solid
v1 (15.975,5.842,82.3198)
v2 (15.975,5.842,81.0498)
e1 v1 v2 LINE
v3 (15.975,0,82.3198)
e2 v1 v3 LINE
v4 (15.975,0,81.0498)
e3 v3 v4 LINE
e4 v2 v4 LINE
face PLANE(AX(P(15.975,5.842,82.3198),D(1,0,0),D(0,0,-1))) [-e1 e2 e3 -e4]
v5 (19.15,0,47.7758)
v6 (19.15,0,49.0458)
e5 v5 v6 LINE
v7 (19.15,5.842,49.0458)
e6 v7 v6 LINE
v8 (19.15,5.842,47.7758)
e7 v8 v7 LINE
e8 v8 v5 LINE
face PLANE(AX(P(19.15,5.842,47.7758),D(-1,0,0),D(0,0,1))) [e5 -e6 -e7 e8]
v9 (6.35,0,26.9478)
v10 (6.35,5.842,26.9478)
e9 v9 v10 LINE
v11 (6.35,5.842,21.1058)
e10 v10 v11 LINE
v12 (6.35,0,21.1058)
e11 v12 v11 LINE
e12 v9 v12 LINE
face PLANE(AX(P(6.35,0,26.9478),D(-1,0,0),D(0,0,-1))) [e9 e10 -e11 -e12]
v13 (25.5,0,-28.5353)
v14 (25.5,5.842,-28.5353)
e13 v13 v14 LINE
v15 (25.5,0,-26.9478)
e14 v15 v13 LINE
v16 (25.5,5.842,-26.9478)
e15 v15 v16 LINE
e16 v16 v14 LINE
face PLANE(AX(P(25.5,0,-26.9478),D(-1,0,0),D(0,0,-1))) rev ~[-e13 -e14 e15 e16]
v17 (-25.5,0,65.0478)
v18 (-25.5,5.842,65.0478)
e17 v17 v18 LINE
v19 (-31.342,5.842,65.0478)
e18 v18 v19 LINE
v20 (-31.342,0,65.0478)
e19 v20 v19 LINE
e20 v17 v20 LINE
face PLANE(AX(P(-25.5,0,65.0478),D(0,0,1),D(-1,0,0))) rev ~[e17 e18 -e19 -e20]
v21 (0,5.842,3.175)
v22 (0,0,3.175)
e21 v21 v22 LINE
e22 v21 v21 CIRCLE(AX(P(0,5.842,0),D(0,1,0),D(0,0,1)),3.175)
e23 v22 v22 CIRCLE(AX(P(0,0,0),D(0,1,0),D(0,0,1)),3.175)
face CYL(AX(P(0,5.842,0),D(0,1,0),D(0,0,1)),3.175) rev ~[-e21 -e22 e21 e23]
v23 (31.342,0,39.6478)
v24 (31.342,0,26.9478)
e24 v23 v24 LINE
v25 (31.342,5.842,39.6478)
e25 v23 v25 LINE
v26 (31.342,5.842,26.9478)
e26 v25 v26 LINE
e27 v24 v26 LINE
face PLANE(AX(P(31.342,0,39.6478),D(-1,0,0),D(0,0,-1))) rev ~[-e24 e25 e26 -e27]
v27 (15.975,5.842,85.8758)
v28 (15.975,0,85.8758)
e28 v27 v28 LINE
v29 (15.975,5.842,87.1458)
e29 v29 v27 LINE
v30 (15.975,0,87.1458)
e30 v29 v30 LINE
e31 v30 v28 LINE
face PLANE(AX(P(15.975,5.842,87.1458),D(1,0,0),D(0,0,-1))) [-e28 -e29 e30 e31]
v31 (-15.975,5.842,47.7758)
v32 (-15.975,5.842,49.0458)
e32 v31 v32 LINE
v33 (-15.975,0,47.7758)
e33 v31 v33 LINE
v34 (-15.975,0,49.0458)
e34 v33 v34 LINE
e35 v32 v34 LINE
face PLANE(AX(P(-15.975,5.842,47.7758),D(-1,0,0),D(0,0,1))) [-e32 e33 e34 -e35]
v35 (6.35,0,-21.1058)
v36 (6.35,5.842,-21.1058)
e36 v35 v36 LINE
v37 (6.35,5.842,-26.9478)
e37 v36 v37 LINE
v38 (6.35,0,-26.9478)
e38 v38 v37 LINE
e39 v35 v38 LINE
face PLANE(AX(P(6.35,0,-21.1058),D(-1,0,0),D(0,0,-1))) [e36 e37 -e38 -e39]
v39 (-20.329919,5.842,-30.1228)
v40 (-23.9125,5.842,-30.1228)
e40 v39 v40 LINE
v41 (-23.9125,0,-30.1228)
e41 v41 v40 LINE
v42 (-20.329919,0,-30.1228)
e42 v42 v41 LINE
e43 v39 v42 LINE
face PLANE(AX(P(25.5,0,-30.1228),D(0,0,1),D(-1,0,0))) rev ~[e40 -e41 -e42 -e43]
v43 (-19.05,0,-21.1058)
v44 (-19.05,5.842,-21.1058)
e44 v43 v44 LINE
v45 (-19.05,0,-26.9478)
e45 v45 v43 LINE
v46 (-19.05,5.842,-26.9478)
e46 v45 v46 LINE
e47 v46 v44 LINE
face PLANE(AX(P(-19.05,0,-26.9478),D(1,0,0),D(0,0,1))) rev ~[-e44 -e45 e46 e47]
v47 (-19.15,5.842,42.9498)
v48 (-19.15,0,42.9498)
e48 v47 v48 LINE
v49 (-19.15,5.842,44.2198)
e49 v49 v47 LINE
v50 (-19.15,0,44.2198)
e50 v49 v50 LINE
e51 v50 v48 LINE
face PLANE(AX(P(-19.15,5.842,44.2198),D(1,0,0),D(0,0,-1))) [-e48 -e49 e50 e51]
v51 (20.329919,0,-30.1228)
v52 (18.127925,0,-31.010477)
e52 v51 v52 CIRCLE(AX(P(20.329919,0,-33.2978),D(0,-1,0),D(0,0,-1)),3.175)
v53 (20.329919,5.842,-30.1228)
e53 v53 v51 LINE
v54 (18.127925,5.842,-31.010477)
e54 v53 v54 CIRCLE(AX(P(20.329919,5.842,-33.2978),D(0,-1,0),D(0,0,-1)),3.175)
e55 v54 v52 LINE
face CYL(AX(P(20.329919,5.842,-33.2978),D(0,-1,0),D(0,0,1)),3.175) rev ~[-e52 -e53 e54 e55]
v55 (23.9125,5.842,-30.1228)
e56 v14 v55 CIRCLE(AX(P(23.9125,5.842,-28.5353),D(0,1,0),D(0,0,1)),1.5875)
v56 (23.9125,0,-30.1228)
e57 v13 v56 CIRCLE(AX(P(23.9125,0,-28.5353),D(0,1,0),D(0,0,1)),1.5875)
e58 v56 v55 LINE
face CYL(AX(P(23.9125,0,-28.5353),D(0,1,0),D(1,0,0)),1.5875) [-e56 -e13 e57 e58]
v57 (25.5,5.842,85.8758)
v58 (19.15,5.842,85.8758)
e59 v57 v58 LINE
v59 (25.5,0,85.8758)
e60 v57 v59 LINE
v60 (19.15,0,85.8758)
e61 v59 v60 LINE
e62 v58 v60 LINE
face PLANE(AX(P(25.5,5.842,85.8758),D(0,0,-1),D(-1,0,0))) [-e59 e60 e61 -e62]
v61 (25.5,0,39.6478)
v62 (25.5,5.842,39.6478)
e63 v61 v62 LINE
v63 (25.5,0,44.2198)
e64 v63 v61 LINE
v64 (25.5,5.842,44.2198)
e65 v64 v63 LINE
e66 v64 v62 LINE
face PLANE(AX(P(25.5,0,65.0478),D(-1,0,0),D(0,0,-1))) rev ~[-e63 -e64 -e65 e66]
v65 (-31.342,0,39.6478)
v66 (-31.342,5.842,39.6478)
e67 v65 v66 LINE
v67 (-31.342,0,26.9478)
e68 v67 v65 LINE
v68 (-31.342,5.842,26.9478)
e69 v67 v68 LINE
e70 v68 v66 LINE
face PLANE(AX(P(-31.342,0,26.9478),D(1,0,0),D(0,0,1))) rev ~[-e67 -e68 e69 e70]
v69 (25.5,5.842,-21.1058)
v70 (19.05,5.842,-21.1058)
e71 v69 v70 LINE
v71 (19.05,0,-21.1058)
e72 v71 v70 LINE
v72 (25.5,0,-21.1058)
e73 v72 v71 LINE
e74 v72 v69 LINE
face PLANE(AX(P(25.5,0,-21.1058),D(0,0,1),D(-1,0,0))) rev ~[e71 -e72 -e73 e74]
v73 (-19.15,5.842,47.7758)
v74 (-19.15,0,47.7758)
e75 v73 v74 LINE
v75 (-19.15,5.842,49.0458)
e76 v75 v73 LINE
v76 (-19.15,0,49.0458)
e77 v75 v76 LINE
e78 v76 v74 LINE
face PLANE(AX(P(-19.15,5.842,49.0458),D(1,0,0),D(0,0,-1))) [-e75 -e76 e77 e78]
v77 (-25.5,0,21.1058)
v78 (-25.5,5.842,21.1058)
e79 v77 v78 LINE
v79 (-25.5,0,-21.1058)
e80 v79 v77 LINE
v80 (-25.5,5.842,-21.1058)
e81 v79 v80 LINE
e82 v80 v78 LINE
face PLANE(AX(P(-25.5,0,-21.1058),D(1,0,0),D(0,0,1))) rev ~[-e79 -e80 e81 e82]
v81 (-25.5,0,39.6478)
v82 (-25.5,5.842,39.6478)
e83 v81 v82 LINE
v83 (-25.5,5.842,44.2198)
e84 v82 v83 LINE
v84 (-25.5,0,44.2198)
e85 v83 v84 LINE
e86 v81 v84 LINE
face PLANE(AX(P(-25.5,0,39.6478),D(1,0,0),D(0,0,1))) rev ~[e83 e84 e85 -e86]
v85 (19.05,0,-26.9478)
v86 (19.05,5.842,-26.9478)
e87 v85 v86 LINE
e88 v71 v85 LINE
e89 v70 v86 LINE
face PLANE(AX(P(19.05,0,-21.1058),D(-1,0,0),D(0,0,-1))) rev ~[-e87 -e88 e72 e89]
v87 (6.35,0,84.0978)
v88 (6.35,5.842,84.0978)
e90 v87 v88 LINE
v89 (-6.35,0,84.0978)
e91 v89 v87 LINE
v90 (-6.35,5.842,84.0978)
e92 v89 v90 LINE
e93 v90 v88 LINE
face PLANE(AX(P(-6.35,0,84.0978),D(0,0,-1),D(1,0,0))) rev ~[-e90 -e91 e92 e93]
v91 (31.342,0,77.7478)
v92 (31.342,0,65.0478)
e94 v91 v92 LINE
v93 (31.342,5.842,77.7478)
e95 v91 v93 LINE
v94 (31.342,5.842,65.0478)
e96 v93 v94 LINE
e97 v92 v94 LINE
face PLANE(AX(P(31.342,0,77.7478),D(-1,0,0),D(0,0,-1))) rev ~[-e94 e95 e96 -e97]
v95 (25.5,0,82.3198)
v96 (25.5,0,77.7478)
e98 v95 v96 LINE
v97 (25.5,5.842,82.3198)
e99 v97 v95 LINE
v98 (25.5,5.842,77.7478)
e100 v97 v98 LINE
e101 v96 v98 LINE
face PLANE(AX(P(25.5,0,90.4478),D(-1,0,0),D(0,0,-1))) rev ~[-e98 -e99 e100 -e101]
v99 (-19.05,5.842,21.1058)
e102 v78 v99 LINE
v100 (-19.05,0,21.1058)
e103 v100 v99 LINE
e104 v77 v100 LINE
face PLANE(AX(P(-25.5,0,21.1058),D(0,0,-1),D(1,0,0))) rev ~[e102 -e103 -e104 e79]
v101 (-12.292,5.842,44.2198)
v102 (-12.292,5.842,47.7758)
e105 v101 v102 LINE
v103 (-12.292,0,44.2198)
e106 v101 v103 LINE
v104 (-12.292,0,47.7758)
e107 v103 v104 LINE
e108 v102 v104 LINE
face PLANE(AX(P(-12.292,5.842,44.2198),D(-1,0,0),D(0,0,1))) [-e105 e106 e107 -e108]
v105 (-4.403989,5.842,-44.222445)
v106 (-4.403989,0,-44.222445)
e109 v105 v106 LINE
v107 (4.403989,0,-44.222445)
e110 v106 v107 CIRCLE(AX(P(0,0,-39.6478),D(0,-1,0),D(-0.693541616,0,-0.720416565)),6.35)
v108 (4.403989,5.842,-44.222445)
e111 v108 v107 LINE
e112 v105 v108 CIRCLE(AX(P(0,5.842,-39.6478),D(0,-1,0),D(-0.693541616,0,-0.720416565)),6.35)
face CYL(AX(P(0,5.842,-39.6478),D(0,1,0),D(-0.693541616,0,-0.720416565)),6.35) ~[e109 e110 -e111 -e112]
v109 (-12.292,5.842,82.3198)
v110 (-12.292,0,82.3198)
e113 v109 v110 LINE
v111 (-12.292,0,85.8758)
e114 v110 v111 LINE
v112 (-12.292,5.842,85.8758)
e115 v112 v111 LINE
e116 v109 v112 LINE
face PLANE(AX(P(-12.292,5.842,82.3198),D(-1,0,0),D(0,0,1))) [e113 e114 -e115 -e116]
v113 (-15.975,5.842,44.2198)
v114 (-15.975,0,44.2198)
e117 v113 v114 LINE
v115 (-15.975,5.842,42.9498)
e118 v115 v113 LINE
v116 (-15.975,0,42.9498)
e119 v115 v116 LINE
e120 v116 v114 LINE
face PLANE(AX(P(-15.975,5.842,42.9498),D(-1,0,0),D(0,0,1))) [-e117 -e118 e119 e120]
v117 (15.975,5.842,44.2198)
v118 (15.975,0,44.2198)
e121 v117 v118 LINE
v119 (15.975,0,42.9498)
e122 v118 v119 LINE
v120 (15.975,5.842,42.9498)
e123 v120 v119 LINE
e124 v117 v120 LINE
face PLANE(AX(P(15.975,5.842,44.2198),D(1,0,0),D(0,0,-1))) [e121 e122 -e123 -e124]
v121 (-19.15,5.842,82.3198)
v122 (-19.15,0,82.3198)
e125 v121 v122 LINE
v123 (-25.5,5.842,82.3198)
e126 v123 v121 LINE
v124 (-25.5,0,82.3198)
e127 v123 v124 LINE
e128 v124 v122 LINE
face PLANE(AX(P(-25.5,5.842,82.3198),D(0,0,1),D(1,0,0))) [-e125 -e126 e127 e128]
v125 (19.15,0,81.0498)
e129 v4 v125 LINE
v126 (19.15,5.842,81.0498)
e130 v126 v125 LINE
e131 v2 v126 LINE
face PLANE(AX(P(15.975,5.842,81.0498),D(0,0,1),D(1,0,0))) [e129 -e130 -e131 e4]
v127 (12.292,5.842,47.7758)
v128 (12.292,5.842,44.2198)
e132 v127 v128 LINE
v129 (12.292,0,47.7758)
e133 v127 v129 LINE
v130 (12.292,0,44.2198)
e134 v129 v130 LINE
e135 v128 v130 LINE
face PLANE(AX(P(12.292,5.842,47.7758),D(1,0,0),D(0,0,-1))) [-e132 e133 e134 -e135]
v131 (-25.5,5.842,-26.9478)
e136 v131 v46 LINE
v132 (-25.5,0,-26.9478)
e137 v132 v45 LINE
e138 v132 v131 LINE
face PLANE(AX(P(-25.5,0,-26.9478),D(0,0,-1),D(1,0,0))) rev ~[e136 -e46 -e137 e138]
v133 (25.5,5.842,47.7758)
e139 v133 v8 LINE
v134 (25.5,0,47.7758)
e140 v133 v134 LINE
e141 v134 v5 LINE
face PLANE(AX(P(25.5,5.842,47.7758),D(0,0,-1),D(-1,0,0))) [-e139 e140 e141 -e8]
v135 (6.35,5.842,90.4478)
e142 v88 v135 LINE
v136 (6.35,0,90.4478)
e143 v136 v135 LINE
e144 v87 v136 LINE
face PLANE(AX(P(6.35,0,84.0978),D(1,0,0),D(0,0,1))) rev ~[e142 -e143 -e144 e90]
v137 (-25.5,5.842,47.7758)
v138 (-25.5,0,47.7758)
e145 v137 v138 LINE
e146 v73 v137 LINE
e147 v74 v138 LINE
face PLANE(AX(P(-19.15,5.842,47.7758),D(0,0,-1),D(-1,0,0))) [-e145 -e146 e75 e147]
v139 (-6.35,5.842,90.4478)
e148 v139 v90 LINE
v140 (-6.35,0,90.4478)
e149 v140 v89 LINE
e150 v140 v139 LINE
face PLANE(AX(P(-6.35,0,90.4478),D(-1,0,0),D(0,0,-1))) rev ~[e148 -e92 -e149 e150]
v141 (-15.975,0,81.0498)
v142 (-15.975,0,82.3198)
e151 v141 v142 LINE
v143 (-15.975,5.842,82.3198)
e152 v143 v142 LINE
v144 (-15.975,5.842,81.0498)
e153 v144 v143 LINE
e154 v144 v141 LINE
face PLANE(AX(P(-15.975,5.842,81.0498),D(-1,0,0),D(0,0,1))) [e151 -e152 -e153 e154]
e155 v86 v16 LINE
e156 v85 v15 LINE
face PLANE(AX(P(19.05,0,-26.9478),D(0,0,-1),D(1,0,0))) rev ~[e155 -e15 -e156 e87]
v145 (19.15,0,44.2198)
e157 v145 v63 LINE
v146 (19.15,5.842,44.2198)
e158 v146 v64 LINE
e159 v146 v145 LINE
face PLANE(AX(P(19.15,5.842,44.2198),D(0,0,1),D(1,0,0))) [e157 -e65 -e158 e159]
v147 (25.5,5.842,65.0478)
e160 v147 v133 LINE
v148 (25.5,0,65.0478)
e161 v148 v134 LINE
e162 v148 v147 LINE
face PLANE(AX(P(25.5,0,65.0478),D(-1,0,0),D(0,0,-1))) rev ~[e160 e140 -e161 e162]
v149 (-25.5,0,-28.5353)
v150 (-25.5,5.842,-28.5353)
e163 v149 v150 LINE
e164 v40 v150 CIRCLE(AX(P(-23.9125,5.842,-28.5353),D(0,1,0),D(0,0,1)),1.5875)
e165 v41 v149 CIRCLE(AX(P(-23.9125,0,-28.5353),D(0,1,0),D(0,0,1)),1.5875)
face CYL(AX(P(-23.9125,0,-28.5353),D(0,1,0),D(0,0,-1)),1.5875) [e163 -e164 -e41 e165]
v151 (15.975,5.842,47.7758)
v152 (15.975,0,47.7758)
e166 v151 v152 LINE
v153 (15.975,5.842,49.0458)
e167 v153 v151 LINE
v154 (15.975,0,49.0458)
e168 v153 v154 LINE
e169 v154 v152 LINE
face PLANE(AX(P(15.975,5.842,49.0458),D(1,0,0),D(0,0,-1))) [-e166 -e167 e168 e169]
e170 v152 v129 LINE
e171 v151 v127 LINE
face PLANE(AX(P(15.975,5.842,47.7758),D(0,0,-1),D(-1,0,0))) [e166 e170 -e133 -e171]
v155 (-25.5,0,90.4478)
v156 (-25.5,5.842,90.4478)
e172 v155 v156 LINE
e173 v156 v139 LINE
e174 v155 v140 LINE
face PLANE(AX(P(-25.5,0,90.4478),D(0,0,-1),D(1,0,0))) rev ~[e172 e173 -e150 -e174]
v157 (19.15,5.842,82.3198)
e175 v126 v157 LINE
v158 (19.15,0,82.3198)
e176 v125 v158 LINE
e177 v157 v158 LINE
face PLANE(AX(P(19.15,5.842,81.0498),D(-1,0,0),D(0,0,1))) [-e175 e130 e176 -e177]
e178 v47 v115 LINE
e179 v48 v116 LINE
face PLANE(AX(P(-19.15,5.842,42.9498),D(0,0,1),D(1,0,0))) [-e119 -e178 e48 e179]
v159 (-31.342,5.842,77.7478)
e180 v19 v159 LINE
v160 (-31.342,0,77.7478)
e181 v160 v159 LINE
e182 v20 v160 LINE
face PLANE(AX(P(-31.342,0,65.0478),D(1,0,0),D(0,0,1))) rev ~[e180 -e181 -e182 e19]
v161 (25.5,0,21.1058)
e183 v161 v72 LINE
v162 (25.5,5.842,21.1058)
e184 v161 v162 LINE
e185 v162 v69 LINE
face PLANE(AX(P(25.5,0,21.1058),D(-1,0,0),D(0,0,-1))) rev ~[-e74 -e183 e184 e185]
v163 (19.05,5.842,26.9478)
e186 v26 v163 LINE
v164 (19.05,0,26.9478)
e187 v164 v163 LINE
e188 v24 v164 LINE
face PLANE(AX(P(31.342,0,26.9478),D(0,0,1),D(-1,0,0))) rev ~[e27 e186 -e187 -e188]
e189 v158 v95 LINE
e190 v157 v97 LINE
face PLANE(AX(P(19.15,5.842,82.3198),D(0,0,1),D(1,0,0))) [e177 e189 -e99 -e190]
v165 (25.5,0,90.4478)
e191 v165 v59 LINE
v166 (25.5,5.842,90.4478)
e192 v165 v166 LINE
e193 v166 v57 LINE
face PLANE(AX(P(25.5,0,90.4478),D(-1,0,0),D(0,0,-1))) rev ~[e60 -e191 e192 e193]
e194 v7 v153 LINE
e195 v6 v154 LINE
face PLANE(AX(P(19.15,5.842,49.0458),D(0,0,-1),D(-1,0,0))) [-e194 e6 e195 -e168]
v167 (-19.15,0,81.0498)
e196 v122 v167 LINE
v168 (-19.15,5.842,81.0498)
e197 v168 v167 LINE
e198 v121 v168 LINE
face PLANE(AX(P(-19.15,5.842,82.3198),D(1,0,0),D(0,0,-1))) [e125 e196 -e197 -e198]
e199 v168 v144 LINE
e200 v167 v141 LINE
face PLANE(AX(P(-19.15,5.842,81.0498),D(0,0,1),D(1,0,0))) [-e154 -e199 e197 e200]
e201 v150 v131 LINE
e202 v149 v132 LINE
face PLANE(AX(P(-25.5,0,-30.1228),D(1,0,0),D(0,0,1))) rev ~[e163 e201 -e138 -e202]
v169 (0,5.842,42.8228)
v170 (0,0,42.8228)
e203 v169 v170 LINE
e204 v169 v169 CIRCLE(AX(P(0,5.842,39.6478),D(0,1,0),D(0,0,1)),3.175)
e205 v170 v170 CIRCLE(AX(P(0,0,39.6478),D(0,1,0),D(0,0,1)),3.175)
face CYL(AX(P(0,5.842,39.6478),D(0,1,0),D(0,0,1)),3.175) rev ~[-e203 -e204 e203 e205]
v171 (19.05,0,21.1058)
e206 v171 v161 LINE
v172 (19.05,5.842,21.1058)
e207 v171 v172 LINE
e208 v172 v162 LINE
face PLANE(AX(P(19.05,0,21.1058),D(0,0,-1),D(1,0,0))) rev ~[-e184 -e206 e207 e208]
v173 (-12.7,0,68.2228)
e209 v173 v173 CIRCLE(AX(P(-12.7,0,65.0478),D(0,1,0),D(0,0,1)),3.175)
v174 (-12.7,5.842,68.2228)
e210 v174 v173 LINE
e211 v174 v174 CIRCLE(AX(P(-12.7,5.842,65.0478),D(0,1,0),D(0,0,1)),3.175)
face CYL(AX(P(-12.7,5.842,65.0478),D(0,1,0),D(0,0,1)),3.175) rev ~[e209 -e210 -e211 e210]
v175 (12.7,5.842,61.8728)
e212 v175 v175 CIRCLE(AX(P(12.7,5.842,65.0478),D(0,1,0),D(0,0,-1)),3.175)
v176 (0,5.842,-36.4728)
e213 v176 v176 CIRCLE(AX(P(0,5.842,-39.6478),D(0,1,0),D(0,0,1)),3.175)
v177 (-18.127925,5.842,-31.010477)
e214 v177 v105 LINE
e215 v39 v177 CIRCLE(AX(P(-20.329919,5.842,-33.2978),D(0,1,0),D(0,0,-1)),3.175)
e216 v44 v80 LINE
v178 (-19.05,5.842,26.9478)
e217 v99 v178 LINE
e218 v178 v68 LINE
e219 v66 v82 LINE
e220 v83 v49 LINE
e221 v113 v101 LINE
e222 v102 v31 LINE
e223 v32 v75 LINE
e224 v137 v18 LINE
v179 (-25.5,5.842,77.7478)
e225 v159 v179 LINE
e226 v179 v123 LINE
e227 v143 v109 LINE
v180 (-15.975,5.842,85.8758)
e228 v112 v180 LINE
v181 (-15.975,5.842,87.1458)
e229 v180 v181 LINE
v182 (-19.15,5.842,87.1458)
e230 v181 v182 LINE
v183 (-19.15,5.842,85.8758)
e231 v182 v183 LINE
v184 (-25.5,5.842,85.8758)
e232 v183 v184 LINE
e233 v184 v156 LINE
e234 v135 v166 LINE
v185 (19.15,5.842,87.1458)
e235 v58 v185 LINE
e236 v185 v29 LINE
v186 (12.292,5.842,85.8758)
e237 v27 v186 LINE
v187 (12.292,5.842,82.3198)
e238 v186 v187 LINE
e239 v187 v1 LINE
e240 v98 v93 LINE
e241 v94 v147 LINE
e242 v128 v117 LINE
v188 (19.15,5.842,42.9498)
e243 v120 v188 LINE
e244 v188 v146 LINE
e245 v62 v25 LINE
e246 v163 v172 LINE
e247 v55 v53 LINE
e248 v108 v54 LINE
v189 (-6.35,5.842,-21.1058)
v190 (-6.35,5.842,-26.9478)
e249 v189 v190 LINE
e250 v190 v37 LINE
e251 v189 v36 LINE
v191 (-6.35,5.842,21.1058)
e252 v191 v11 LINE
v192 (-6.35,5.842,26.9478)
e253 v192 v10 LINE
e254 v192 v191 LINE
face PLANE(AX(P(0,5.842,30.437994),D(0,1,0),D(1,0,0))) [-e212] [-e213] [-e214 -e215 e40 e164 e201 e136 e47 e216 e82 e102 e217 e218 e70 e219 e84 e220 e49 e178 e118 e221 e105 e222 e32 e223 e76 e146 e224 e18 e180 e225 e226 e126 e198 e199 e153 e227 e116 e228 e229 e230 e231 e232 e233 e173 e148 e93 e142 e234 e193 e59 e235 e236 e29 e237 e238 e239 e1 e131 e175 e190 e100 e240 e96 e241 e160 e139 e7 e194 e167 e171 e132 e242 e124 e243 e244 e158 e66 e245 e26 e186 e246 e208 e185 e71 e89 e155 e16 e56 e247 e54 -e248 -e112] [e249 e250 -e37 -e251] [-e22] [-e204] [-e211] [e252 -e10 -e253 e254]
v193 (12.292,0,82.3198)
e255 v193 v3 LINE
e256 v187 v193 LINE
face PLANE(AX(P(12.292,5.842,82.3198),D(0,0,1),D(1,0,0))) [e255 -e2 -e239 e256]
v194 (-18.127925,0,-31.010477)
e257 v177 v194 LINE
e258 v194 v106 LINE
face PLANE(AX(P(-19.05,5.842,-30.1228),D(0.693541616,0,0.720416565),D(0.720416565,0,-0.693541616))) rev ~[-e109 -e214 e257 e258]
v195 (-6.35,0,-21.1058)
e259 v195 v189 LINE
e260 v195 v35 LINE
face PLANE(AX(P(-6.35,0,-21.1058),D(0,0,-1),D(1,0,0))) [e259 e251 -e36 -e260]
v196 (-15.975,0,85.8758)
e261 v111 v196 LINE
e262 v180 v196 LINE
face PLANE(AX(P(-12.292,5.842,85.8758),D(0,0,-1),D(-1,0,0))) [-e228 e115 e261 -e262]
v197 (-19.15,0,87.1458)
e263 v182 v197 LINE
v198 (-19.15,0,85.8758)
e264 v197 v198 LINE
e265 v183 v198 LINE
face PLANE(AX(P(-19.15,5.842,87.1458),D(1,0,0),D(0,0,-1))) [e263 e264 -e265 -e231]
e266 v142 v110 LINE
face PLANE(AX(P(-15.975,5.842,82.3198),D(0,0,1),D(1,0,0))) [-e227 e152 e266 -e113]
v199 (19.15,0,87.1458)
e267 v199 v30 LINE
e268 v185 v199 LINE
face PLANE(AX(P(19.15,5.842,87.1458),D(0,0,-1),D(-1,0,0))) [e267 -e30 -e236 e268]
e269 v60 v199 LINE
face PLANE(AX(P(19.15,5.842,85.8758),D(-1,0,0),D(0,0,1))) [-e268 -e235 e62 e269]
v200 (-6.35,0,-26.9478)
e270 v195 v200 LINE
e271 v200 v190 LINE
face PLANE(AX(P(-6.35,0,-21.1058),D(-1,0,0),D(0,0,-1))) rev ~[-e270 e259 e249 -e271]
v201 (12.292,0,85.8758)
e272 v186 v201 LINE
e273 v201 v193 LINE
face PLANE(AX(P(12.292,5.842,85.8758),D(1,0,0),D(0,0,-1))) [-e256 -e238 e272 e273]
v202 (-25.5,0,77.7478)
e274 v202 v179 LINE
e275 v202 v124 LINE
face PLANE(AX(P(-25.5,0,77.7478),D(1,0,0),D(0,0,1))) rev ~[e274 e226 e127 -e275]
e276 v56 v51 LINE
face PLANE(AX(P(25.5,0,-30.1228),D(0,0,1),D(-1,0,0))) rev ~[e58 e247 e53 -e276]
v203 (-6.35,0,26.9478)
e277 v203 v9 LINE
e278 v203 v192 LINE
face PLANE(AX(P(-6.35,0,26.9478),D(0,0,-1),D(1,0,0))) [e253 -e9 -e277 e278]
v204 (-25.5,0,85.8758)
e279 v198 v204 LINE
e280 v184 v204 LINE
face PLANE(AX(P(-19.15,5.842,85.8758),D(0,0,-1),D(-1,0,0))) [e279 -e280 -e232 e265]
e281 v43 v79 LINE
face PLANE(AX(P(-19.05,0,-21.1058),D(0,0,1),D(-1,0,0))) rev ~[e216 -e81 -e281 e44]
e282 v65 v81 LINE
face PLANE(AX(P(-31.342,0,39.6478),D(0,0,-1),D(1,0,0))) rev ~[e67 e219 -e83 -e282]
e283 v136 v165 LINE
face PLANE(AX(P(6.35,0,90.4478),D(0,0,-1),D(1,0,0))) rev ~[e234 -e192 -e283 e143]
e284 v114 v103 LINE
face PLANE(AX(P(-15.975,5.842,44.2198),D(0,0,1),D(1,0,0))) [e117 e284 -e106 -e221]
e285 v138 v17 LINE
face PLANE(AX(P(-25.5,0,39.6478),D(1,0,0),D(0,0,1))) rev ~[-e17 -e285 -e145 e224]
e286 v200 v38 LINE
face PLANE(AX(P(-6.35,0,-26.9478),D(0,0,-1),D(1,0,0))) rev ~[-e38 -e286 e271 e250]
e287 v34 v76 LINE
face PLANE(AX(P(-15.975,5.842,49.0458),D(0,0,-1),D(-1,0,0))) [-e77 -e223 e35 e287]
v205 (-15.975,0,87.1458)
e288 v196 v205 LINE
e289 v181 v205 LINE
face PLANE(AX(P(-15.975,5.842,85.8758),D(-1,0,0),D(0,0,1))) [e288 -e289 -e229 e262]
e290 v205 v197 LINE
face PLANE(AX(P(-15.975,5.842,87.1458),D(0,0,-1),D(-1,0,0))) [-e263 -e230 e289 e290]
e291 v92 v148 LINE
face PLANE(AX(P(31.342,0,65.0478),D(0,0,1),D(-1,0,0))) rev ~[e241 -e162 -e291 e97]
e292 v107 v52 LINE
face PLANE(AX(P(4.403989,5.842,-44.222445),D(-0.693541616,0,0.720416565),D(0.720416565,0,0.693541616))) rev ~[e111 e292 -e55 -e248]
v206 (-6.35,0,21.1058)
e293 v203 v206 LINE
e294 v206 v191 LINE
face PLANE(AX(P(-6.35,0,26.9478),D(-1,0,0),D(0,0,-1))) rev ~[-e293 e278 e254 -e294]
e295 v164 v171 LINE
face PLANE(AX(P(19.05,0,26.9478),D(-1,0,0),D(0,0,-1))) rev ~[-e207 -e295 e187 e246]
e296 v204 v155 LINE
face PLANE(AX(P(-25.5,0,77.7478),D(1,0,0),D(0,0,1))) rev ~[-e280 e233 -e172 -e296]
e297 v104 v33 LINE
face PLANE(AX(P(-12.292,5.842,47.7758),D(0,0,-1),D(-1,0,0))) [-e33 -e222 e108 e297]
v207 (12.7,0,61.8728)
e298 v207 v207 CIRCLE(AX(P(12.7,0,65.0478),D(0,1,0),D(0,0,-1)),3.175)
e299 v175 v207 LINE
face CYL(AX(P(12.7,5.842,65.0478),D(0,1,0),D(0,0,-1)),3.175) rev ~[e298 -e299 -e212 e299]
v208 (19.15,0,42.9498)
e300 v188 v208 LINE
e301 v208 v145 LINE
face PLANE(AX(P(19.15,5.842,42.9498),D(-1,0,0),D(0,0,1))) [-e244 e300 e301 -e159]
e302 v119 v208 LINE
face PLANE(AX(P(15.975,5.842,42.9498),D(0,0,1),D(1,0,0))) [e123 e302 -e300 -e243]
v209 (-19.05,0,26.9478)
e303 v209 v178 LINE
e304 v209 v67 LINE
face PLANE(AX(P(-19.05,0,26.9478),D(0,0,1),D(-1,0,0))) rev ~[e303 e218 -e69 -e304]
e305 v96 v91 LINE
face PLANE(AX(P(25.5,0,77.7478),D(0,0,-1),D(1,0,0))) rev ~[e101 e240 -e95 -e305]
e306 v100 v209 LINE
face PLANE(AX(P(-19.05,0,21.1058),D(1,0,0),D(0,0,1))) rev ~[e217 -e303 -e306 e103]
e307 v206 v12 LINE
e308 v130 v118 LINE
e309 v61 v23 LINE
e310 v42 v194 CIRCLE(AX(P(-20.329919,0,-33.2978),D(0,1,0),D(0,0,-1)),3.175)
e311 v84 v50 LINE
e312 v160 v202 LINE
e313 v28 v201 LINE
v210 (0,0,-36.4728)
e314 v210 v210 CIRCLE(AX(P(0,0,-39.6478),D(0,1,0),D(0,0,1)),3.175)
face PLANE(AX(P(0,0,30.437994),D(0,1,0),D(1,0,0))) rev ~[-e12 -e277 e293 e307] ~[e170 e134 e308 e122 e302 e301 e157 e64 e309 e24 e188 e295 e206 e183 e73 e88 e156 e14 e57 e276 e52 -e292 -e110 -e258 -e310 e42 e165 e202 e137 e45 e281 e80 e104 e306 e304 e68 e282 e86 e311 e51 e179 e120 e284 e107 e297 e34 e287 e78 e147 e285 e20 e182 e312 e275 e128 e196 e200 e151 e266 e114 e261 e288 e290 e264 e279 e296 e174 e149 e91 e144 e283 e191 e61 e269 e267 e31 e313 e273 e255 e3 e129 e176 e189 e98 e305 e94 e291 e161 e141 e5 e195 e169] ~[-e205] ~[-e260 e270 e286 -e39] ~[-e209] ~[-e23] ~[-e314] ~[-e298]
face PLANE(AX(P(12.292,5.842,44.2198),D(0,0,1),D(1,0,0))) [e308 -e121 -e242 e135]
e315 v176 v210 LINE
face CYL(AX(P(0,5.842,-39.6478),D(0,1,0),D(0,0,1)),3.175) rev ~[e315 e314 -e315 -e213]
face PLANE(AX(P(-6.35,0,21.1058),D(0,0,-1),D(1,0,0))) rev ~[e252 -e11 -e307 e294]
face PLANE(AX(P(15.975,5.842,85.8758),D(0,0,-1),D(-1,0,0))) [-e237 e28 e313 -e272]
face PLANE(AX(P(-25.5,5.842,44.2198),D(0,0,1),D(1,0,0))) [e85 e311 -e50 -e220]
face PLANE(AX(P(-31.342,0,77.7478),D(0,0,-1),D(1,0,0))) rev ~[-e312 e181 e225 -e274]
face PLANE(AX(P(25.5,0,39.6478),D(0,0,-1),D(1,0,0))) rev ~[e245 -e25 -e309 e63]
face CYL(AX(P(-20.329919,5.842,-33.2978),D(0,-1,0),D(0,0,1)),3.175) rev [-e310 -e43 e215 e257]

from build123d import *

# Parameters (mm, degrees)
SKETCH1_W           = 12.7
SKETCH1_H           = 5.842
BOSS_EXTRUDE1_DEPTH = 5.842
FILLET1_R           = 1.5875
CUT_EXTRUDE1_DEPTH  = 96.902317244
SKETCH3_R           = 3.175
CUT_EXTRUDE2_DEPTH  = 96.902317244
SKETCH4_R           = 3.175
BOSS_EXTRUDE2_DEPTH = 5.842
FILLET2_R           = 3.175


with BuildPart() as part:
    # Sketch1 → Boss-Extrude1 (new body)
    with BuildSketch(Plane(origin=(0, 0, 0), x_dir=(1, 0, 0), z_dir=(0, 1, 0))):
        Polygon((19.05, -21.1058), (25.5, -21.1058), (25.5, 21.1058), (19.05, 21.1058), (19.05, 26.9478), (25.5, 26.9478), (25.5, 30.1228), (-25.5, 30.1228), (-25.5, 26.9478), (-19.05, 26.9478), (-19.05, 21.1058), (-25.5, 21.1058), (-25.5, -21.1058), (-19.05, -21.1058), (-19.05, -26.9478), (-25.5, -26.9478), (-31.342, -26.9478), (-31.342, -39.6478), (-25.5, -39.6478), (-25.5, -65.0478), (-31.342, -65.0478), (-31.342, -77.7478), (-25.5, -77.7478), (-25.5, -90.4478), (-6.35, -90.4478), (-6.35, -84.0978), (6.35, -84.0978), (6.35, -90.4478), (25.5, -90.4478), (25.5, -77.7478), (31.342, -77.7478), (31.342, -65.0478), (25.5, -65.0478), (25.5, -39.6478), (31.342, -39.6478), (31.342, -26.9478), (25.5, -26.9478), (19.05, -26.9478), align=None)
        with Locations((0, -24.0268)):
            Rectangle(SKETCH1_W, SKETCH1_H, mode=Mode.SUBTRACT)
        with Locations((0, 24.0268)):
            Rectangle(SKETCH1_W, SKETCH1_H, mode=Mode.SUBTRACT)
    extrude(amount=BOSS_EXTRUDE1_DEPTH)

    # Fillet1
    fillet1_edges = [part.edges().sort_by_distance(p)[0] for p in [
        (-25.5, 2.921, -30.1228),
        (25.5, 2.921, -30.1228),
    ]]
    fillet(fillet1_edges, radius=FILLET1_R)

    # Sketch2 → Cut-Extrude1 (cut, through all)
    with BuildSketch(Plane(origin=(0, 5.842, 0), x_dir=(1, 0, 0), z_dir=(0, 1, 0))):
        Polygon((-19.15, -44.2198), (-19.15, -42.9498), (-15.975, -42.9498), (-15.975, -44.2198), (-12.292, -44.2198), (-12.292, -47.7758), (-15.975, -47.7758), (-15.975, -49.0458), (-19.15, -49.0458), (-19.15, -47.7758), (-25.5, -47.7758), (-25.5, -44.2198), align=None)
        Polygon((12.292, -44.2198), (15.975, -44.2198), (15.975, -42.9498), (19.15, -42.9498), (19.15, -44.2198), (25.5, -44.2198), (25.5, -47.7758), (19.15, -47.7758), (19.15, -49.0458), (15.975, -49.0458), (15.975, -47.7758), (12.292, -47.7758), align=None)
        Polygon((19.15, -85.8758), (19.15, -87.1458), (15.975, -87.1458), (15.975, -85.8758), (12.292, -85.8758), (12.292, -82.3198), (15.975, -82.3198), (15.975, -81.0498), (19.15, -81.0498), (19.15, -82.3198), (25.5, -82.3198), (25.5, -85.8758), align=None)
        Polygon((-12.292, -85.8758), (-15.975, -85.8758), (-15.975, -87.1458), (-19.15, -87.1458), (-19.15, -85.8758), (-25.5, -85.8758), (-25.5, -82.3198), (-19.15, -82.3198), (-19.15, -81.0498), (-15.975, -81.0498), (-15.975, -82.3198), (-12.292, -82.3198), align=None)
    extrude(amount=-CUT_EXTRUDE1_DEPTH, mode=Mode.SUBTRACT)

    # Sketch3 → Cut-Extrude2 (cut, through all)
    with BuildSketch(Plane(origin=(0, 5.842, 0), x_dir=(1, 0, 0), z_dir=(0, 1, 0))):
        with Locations(Location((0, 0, 0), (0, 0, 270))):
            Circle(SKETCH3_R)
        with Locations(Location((-12.7, -65.0478, 0), (0, 0, 270))):
            Circle(SKETCH3_R)
        with Locations(Location((12.7, -65.0478, 0), (0, 0, 90))):
            Circle(SKETCH3_R)
        with Locations(Location((0, -39.6478, 0), (0, 0, 270))):
            Circle(SKETCH3_R)
    extrude(amount=-CUT_EXTRUDE2_DEPTH, mode=Mode.SUBTRACT)

    # Sketch4 → Boss-Extrude2 (add)
    with BuildSketch(Plane(origin=(0, 5.842, 0), x_dir=(1, 0, 0), z_dir=(0, 1, 0))):
        with BuildLine():
            Line((-19.05, 30.1228), (-4.403989261, 44.222445188))
            ThreePointArc((-4.403989261, 44.222445188), (0, 45.9978), (4.403989261, 44.222445188))
            Line((4.403989261, 44.222445188), (19.05, 30.1228))
            Line((19.05, 30.1228), (-19.05, 30.1228))
        make_face()
        with Locations(Location((0, 39.6478, 0), (0, 0, 270))):
            Circle(SKETCH4_R, mode=Mode.SUBTRACT)
    extrude(amount=-BOSS_EXTRUDE2_DEPTH)

    # Fillet2
    fillet2_edges = [part.edges().sort_by_distance(p)[0] for p in [
        (-19.05, 2.921, -30.1228),
        (19.05, 2.921, -30.1228),
    ]]
    fillet(fillet2_edges, radius=FILLET2_R)


solid = part.part
